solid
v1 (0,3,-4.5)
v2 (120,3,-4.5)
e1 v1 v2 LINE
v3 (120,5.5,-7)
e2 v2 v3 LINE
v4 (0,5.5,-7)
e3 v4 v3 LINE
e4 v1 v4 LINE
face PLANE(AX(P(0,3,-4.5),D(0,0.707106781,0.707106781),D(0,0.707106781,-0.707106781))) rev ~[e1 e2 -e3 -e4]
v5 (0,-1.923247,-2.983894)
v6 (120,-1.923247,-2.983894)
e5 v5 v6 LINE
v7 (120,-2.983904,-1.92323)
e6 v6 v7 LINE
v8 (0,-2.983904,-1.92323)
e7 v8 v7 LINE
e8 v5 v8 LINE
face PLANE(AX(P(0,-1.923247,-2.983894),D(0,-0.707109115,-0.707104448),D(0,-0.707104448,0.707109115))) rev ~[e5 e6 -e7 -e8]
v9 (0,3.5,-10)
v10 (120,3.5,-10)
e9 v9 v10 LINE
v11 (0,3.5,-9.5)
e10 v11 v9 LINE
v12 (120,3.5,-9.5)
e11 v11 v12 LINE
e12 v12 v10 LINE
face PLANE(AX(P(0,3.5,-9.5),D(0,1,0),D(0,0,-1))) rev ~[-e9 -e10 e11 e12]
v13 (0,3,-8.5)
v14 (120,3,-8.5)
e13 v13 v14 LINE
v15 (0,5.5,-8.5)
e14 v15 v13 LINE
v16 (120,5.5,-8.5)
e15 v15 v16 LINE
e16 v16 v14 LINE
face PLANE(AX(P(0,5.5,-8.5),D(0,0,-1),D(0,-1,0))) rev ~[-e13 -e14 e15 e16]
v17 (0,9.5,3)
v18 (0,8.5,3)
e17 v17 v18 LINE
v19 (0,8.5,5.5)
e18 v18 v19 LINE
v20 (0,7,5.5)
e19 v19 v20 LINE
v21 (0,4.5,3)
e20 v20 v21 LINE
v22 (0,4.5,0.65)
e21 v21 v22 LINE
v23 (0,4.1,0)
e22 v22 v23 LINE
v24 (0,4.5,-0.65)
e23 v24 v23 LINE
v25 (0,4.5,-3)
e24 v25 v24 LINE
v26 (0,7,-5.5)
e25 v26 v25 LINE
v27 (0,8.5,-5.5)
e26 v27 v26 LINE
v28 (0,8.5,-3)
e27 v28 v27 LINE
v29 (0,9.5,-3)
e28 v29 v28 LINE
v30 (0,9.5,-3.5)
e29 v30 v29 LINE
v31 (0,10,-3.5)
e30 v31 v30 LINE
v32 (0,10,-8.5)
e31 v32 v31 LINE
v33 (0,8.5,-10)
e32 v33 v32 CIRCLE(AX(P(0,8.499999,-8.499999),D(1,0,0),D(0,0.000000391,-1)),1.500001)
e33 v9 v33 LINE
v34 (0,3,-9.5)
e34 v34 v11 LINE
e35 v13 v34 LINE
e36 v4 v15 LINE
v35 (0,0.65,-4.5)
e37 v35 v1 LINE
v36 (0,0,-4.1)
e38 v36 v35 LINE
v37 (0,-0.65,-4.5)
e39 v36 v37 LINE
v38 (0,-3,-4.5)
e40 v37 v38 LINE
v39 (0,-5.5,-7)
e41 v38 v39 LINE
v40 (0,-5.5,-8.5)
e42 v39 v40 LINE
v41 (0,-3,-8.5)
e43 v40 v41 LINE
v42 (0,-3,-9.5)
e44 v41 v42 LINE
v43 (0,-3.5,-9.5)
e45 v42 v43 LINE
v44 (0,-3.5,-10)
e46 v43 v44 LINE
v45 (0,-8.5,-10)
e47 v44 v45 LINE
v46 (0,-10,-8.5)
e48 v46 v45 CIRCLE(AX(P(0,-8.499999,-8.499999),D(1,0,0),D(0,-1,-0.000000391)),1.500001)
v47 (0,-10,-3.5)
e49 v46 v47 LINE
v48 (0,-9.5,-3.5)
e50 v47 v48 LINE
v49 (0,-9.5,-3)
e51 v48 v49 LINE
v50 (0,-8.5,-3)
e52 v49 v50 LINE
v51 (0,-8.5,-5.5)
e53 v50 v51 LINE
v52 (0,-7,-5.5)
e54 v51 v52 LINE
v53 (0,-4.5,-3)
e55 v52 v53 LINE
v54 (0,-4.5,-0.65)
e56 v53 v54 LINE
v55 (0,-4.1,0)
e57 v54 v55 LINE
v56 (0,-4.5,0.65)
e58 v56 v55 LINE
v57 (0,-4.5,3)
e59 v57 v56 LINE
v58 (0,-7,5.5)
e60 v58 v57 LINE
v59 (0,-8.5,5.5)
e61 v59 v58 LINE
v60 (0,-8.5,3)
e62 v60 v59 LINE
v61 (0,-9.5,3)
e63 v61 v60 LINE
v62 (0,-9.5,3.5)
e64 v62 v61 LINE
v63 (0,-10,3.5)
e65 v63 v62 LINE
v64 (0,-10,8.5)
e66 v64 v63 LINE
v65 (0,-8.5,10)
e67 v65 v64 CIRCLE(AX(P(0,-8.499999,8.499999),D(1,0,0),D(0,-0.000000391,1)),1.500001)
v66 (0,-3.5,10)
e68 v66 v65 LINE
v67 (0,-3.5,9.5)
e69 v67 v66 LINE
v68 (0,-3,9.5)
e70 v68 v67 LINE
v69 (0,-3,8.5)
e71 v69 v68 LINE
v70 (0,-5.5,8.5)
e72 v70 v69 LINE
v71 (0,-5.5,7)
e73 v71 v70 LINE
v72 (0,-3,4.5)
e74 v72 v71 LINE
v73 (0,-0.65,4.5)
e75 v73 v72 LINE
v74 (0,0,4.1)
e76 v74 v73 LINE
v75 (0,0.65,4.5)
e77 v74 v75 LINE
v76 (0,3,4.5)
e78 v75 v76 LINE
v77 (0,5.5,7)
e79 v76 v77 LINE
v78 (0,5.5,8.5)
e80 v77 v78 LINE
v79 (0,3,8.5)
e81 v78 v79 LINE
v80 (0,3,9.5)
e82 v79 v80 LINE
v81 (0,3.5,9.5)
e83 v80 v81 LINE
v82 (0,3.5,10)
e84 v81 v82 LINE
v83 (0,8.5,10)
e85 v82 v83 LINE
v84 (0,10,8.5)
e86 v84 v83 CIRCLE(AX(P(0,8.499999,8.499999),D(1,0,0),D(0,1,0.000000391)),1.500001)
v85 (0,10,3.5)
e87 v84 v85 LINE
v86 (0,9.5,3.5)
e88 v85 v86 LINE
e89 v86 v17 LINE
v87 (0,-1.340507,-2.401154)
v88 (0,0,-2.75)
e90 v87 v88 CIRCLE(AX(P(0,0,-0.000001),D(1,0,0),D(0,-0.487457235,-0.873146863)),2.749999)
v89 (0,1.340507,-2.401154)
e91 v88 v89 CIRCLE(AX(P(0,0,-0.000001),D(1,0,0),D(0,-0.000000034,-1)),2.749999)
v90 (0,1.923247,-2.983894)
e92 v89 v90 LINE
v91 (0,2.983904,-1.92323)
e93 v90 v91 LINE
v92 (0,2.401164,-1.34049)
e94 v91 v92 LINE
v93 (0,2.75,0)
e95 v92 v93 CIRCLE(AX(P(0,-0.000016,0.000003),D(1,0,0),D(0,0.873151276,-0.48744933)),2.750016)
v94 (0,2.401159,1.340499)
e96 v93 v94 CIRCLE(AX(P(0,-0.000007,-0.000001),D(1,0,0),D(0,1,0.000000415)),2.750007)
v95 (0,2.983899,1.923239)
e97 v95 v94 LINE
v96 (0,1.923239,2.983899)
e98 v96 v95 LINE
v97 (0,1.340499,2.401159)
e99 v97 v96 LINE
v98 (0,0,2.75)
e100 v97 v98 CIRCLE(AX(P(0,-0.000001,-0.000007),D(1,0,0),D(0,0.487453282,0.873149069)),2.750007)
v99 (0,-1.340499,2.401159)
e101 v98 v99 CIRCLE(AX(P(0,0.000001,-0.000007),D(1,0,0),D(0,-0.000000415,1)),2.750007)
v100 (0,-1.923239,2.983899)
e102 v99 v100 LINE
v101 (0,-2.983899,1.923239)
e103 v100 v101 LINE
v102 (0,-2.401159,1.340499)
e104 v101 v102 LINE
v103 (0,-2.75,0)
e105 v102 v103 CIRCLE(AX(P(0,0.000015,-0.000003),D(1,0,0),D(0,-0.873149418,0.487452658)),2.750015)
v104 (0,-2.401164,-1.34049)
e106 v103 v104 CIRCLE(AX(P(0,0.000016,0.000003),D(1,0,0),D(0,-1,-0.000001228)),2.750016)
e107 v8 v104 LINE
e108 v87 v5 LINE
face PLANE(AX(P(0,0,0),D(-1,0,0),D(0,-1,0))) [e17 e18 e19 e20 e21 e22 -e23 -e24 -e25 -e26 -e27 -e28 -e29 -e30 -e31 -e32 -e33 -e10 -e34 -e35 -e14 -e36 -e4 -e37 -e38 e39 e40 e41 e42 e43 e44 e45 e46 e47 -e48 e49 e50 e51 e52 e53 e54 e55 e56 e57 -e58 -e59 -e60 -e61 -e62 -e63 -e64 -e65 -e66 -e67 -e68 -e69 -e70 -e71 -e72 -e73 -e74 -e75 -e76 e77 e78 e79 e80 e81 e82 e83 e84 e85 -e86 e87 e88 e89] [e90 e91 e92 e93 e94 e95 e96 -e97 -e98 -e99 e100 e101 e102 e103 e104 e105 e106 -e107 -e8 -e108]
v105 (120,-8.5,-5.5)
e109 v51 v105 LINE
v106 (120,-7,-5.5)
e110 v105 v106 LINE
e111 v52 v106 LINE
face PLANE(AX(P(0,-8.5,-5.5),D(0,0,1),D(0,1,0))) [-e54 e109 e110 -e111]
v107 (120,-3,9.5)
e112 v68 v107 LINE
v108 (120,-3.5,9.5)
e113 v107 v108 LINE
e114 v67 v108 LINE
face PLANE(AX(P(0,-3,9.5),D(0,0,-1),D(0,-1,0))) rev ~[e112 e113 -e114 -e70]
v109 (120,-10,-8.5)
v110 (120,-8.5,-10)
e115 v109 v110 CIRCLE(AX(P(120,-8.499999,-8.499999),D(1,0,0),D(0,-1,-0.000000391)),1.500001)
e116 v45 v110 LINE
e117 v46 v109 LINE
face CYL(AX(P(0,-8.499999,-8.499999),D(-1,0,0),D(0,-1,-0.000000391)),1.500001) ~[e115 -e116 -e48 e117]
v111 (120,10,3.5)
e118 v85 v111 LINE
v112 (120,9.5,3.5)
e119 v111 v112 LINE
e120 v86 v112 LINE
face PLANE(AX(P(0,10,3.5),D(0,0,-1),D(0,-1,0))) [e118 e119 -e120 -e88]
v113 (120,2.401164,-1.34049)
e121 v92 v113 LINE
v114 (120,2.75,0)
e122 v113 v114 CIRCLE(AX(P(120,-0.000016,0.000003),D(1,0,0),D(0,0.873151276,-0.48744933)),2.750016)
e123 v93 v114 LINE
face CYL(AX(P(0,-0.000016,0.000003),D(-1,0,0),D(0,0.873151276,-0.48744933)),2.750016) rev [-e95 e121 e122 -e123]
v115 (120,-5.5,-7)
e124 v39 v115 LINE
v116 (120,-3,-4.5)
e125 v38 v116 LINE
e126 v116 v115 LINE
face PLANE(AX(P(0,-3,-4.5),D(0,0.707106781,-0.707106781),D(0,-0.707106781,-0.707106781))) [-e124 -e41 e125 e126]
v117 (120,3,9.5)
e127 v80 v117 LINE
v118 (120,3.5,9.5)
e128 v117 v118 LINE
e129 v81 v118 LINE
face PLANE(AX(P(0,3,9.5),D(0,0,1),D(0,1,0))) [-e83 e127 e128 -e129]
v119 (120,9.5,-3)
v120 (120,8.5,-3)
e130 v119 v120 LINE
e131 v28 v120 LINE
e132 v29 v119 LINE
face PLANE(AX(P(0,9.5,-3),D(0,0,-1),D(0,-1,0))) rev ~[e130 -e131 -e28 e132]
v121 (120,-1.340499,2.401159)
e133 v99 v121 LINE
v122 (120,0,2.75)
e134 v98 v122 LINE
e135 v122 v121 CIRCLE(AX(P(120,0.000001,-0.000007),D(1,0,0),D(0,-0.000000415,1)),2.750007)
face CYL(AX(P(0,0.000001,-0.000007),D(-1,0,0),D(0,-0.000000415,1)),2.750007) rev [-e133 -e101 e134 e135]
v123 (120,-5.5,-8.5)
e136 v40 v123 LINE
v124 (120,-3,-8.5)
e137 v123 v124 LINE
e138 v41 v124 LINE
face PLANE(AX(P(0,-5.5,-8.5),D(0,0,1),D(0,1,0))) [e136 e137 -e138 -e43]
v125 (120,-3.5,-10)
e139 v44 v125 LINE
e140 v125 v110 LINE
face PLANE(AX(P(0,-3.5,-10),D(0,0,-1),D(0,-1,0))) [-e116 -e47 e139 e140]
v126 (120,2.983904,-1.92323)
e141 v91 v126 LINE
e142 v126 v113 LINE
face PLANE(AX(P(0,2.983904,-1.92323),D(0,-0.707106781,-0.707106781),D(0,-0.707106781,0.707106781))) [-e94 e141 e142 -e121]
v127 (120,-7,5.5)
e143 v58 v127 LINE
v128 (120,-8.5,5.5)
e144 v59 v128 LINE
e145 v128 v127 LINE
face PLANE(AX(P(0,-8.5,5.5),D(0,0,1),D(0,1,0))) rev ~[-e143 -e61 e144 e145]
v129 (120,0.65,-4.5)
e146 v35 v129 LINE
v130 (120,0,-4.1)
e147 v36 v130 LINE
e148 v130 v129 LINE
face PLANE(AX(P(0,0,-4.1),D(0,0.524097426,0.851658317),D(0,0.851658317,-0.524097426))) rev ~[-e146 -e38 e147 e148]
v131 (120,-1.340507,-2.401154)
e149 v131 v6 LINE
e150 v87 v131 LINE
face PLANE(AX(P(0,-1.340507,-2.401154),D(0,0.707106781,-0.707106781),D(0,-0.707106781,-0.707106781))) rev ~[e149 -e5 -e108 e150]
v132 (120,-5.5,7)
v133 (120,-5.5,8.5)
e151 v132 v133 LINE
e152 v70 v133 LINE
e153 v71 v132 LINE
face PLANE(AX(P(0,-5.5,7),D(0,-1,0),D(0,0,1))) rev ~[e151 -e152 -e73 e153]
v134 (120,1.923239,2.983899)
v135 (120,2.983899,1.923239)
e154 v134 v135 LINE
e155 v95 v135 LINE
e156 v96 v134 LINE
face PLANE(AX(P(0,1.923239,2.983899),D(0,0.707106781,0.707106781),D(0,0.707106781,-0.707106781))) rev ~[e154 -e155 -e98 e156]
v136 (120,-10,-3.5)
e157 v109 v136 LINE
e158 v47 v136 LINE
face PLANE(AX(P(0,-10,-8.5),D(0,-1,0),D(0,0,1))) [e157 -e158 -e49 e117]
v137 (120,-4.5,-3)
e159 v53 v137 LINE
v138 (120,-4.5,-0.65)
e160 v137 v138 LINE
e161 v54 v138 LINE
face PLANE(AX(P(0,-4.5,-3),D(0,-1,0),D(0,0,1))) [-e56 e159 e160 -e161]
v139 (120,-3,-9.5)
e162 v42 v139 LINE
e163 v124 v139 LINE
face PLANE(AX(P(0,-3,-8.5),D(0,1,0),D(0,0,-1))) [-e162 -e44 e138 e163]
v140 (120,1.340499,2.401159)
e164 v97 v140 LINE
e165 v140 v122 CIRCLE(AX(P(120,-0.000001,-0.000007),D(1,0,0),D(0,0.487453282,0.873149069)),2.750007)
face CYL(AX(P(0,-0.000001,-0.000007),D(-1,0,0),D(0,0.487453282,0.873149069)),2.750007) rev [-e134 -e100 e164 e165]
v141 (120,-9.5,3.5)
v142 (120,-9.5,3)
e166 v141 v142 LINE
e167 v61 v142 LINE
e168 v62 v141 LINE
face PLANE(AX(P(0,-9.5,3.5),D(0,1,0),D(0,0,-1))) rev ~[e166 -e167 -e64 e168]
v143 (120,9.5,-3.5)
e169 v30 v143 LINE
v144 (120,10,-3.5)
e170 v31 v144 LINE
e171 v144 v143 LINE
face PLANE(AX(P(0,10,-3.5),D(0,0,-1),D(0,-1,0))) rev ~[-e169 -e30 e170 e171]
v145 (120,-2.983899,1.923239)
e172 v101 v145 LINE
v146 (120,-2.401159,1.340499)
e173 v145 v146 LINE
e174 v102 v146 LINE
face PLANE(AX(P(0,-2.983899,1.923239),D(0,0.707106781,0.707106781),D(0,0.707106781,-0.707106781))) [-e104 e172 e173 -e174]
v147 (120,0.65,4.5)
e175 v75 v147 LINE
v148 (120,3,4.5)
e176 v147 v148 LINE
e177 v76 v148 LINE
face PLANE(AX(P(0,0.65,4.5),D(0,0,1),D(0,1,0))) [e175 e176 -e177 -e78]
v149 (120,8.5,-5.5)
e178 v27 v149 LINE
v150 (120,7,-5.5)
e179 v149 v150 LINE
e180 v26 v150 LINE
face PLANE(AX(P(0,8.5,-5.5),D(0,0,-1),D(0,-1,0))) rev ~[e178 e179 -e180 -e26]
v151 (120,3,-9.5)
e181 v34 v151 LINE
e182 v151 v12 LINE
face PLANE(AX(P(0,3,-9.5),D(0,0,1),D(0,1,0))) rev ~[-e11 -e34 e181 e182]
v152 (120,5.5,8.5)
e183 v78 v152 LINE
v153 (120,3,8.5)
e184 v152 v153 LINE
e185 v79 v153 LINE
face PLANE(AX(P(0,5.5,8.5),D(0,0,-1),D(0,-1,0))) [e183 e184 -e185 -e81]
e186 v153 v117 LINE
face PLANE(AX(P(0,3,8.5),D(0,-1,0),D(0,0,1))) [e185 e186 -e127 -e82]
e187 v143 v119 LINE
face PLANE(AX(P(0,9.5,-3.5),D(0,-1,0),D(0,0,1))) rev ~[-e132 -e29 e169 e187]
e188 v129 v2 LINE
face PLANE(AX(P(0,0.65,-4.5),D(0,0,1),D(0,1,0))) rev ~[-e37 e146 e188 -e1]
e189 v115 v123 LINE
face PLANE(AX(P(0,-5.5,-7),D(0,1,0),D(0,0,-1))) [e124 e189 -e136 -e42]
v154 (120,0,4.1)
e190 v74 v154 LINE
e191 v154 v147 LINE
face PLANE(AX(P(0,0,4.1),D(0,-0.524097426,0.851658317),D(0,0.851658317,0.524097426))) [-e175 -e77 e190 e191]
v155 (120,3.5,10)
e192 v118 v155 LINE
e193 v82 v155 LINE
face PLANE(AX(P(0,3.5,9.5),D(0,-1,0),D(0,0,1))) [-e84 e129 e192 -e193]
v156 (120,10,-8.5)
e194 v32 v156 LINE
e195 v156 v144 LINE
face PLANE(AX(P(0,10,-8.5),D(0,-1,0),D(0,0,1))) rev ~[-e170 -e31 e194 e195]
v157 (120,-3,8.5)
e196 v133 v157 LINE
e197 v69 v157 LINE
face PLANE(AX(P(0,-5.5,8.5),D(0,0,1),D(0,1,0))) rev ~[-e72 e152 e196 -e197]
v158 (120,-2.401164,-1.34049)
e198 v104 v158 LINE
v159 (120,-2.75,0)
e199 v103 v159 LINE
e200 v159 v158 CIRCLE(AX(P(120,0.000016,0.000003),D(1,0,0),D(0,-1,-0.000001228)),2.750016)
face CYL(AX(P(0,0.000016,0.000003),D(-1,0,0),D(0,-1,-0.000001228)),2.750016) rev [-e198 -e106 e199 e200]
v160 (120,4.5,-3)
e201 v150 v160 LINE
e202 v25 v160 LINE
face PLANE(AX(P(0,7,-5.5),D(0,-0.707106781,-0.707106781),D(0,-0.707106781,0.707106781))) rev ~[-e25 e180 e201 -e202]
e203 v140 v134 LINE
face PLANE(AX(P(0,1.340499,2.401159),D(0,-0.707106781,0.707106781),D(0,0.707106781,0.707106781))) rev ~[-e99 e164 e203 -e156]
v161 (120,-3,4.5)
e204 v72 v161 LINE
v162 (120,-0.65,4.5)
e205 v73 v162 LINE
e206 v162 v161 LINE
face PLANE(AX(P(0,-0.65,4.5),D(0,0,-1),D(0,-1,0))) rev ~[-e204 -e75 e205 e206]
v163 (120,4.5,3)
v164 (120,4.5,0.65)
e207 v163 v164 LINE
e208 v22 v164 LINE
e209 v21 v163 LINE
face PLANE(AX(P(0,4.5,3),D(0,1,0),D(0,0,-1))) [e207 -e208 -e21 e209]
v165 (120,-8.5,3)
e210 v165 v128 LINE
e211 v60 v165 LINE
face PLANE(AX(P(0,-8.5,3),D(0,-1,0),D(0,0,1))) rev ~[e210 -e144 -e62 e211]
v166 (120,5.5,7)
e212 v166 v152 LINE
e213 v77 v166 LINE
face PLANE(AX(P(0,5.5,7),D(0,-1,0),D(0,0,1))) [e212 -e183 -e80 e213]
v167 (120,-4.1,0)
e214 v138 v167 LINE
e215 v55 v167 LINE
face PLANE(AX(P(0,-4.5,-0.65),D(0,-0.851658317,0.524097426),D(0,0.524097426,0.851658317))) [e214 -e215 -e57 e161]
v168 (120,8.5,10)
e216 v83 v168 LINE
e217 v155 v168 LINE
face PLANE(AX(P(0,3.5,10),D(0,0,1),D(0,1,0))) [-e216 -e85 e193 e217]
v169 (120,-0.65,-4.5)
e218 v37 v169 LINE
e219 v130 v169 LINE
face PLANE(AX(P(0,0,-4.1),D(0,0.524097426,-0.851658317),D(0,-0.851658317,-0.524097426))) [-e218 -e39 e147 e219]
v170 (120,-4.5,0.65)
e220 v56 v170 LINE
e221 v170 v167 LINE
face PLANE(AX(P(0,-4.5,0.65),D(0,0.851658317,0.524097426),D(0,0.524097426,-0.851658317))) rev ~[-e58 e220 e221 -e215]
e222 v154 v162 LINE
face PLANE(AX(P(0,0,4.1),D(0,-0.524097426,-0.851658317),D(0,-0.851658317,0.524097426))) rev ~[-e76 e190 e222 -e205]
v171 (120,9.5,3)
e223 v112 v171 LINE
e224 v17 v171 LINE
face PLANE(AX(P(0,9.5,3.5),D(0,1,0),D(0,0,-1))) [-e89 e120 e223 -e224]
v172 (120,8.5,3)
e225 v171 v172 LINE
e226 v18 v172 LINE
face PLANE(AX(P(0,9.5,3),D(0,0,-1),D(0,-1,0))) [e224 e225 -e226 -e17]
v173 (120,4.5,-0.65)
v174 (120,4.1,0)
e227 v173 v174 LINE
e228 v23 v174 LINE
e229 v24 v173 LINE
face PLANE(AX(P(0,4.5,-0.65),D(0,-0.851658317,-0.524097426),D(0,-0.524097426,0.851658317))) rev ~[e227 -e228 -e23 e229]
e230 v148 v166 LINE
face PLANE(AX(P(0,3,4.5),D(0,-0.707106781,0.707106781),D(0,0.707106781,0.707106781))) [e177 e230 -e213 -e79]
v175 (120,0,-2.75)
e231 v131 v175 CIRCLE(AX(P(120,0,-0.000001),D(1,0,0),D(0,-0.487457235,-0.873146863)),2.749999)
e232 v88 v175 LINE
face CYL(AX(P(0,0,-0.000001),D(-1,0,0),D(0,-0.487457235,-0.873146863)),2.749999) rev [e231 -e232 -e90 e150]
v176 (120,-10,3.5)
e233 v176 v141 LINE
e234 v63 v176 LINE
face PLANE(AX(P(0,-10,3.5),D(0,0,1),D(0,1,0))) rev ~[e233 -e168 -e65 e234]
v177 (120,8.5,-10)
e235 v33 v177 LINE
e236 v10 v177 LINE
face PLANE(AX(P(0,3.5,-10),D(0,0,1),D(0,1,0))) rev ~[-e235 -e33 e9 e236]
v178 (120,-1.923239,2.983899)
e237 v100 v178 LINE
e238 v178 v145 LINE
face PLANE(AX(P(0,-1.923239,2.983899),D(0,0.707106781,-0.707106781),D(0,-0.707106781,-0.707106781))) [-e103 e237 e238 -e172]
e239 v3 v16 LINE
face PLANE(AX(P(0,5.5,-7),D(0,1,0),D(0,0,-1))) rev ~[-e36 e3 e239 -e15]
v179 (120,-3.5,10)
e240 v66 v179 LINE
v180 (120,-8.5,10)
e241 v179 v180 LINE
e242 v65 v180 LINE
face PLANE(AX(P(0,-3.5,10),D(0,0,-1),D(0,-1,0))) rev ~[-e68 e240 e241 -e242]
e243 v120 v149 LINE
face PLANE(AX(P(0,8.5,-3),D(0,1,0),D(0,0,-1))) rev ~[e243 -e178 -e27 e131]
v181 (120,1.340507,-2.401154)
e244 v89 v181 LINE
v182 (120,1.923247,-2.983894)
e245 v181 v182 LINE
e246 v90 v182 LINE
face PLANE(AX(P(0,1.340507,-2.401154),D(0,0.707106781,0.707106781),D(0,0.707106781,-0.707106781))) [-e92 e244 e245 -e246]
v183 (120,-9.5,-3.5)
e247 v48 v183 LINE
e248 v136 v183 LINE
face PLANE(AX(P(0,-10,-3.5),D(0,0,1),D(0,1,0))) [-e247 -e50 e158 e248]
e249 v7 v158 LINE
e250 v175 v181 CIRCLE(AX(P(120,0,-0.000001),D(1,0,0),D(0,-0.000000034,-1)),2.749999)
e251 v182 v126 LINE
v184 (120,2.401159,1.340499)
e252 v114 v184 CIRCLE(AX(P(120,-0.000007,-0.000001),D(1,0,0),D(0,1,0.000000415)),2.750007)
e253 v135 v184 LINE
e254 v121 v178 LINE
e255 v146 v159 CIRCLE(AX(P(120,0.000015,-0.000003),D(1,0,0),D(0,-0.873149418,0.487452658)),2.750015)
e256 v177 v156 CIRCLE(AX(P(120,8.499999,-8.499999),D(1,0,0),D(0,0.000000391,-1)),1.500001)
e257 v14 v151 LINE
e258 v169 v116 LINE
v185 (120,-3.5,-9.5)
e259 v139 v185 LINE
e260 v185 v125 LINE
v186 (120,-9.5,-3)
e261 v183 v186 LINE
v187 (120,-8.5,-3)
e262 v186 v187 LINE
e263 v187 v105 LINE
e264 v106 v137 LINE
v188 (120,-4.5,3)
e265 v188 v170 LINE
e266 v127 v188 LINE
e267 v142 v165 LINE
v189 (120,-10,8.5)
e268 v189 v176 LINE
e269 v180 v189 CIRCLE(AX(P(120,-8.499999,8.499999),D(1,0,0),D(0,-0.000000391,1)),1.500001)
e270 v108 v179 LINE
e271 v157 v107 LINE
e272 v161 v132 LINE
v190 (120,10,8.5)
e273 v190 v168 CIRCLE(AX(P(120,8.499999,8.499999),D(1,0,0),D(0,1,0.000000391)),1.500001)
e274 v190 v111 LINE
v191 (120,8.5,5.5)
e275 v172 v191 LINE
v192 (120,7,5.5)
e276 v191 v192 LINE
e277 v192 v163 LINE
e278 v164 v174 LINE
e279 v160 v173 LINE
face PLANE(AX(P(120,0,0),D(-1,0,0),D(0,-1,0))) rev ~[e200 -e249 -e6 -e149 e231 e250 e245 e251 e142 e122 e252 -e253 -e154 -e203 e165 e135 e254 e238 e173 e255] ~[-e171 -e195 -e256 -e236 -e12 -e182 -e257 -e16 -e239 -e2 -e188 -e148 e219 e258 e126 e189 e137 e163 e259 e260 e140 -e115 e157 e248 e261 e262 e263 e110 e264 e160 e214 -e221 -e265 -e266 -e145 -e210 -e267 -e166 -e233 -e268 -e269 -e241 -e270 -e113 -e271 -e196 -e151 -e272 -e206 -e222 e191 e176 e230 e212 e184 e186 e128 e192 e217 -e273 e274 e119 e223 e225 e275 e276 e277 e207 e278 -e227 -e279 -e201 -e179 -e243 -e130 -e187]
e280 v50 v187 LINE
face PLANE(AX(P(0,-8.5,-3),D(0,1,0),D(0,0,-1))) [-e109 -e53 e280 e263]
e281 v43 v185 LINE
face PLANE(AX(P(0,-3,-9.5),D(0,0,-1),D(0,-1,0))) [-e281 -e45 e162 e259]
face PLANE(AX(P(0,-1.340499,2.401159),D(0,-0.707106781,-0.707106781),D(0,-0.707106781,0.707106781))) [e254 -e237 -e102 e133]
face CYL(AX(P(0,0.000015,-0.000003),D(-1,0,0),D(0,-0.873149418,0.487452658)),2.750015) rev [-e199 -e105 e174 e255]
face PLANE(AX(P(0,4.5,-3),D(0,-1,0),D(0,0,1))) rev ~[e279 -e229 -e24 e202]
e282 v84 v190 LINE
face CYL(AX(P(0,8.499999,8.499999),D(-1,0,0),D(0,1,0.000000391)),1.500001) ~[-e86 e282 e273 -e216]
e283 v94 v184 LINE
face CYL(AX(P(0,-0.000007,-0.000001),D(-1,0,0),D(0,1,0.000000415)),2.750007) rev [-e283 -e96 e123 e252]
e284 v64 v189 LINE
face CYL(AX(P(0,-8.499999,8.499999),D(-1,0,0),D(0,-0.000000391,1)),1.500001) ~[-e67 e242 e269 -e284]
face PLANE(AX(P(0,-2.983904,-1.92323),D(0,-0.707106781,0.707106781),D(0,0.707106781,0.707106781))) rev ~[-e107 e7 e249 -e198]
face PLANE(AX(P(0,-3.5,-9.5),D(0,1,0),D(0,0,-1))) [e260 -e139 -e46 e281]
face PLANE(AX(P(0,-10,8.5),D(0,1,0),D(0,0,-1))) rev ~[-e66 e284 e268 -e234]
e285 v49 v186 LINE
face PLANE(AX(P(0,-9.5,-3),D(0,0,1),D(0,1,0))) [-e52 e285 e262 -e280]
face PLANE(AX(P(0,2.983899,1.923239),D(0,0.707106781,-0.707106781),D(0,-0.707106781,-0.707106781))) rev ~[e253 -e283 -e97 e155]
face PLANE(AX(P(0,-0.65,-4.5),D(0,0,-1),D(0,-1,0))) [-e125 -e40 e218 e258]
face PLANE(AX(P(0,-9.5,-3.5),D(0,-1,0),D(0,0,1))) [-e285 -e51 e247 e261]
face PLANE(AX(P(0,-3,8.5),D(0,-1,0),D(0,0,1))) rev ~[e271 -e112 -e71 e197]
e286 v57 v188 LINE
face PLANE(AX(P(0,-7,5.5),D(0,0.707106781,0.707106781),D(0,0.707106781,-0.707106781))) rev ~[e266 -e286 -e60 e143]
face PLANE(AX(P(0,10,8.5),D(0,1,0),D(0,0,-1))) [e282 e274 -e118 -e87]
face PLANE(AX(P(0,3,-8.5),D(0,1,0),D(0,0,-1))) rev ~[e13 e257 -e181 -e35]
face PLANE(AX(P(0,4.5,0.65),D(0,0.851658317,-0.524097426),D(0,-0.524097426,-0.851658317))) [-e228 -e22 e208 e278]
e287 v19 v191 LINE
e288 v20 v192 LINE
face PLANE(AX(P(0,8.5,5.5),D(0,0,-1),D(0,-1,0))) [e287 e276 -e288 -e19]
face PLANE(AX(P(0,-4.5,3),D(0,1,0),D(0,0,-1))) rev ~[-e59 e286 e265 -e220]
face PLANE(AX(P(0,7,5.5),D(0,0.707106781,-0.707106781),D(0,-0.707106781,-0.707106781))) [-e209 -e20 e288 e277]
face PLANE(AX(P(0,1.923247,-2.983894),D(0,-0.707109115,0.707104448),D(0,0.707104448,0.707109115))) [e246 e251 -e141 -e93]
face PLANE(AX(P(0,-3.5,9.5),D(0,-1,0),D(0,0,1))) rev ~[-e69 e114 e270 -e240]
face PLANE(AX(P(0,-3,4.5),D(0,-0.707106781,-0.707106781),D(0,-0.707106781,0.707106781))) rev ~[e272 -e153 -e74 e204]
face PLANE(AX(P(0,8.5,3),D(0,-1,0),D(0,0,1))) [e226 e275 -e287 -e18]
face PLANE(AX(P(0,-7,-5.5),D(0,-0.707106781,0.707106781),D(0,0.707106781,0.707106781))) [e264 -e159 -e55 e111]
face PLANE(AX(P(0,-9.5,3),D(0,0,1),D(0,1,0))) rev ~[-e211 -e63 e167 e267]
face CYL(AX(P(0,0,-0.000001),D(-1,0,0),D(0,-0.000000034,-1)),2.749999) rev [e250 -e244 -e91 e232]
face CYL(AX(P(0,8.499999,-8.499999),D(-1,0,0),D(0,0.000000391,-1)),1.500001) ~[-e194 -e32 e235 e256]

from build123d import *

# Parameters (mm, degrees)
PAD_DEPTH = 120


with BuildPart() as part:
    # Sketch → Pad (new body)
    with BuildSketch(Plane.YZ):
        with BuildLine():
            Line((0, 4.1), (0.65, 4.5))
            Line((0.65, 4.5), (3, 4.5))
            Line((3, 4.5), (5.5, 7))
            Line((5.5, 7), (5.5, 8.5))
            Line((5.5, 8.5), (3, 8.5))
            Line((3, 8.5), (3, 9.5))
            Line((3, 9.5), (3.5, 9.5))
            Line((3.5, 9.5), (3.5, 10))
            Line((3.5, 10), (8.5, 10))
            ThreePointArc((10, 8.5), (9.56066, 9.56066), (8.5, 10))
            Line((10, 8.5), (10, 3.5))
            Line((10, 3.5), (9.5, 3.5))
            Line((9.5, 3.5), (9.5, 3))
            Line((9.5, 3), (8.5, 3))
            Line((8.5, 3), (8.5, 5.5))
            Line((8.5, 5.5), (7, 5.5))
            Line((7, 5.5), (4.5, 3))
            Line((4.5, 3), (4.5, 0.65))
            Line((4.5, 0.65), (4.1, 0))
            Line((4.5, -0.65), (4.1, 0))
            Line((4.5, -3), (4.5, -0.65))
            Line((7, -5.5), (4.5, -3))
            Line((8.5, -5.5), (7, -5.5))
            Line((8.5, -3), (8.5, -5.5))
            Line((9.5, -3), (8.5, -3))
            Line((9.5, -3.5), (9.5, -3))
            Line((10, -3.5), (9.5, -3.5))
            Line((10, -8.5), (10, -3.5))
            ThreePointArc((8.5, -10), (9.56066, -9.56066), (10, -8.5))
            Line((3.5, -10), (8.5, -10))
            Line((3.5, -9.5), (3.5, -10))
            Line((3, -9.5), (3.5, -9.5))
            Line((3, -8.5), (3, -9.5))
            Line((5.5, -8.5), (3, -8.5))
            Line((5.5, -7), (5.5, -8.5))
            Line((3, -4.5), (5.5, -7))
            Line((0.65, -4.5), (3, -4.5))
            Line((0, -4.1), (0.65, -4.5))
            Line((0, -4.1), (-0.65, -4.5))
            Line((-0.65, -4.5), (-3, -4.5))
            Line((-3, -4.5), (-5.5, -7))
            Line((-5.5, -7), (-5.5, -8.5))
            Line((-5.5, -8.5), (-3, -8.5))
            Line((-3, -8.5), (-3, -9.5))
            Line((-3, -9.5), (-3.5, -9.5))
            Line((-3.5, -9.5), (-3.5, -10))
            Line((-3.5, -10), (-8.5, -10))
            ThreePointArc((-10, -8.5), (-9.56066, -9.56066), (-8.5, -10))
            Line((-10, -8.5), (-10, -3.5))
            Line((-10, -3.5), (-9.5, -3.5))
            Line((-9.5, -3.5), (-9.5, -3))
            Line((-9.5, -3), (-8.5, -3))
            Line((-8.5, -3), (-8.5, -5.5))
            Line((-8.5, -5.5), (-7, -5.5))
            Line((-7, -5.5), (-4.5, -3))
            Line((-4.5, -3), (-4.5, -0.65))
            Line((-4.5, -0.65), (-4.1, 0))
            Line((-4.5, 0.65), (-4.1, 0))
            Line((-4.5, 3), (-4.5, 0.65))
            Line((-7, 5.5), (-4.5, 3))
            Line((-8.5, 5.5), (-7, 5.5))
            Line((-8.5, 3), (-8.5, 5.5))
            Line((-9.5, 3), (-8.5, 3))
            Line((-9.5, 3.5), (-9.5, 3))
            Line((-10, 3.5), (-9.5, 3.5))
            Line((-10, 8.5), (-10, 3.5))
            ThreePointArc((-8.5, 10), (-9.56066, 9.56066), (-10, 8.5))
            Line((-3.5, 10), (-8.5, 10))
            Line((-3.5, 9.5), (-3.5, 10))
            Line((-3, 9.5), (-3.5, 9.5))
            Line((-3, 8.5), (-3, 9.5))
            Line((-5.5, 8.5), (-3, 8.5))
            Line((-5.5, 7), (-5.5, 8.5))
            Line((-3, 4.5), (-5.5, 7))
            Line((-0.65, 4.5), (-3, 4.5))
            Line((0, 4.1), (-0.65, 4.5))
        make_face()
        with BuildLine():
            Line((1.340499, 2.401159), (1.923239, 2.983899))
            Line((1.923239, 2.983899), (2.983899, 1.923239))
            Line((2.983899, 1.923239), (2.401159, 1.340499))
            ThreePointArc((2.75, 0), (2.661361, 0.692573), (2.401159, 1.340499))
            ThreePointArc((2.401164, -1.34049), (2.661362, -0.692568), (2.75, 0))
            Line((2.983904, -1.92323), (2.401164, -1.34049))
            Line((1.923247, -2.983894), (2.983904, -1.92323))
            Line((1.340507, -2.401154), (1.923247, -2.983894))
            ThreePointArc((0, -2.75), (0.692577, -2.66136), (1.340507, -2.401154))
            ThreePointArc((-1.340507, -2.401154), (-0.692577, -2.66136), (0, -2.75))
            Line((-1.340507, -2.401154), (-1.923247, -2.983894))
            Line((-1.923247, -2.983894), (-2.983904, -1.92323))
            Line((-2.983904, -1.92323), (-2.401164, -1.34049))
            ThreePointArc((-2.75, 0), (-2.661362, -0.692568), (-2.401164, -1.34049))
            ThreePointArc((-2.401159, 1.340499), (-2.661361, 0.692572), (-2.75, 0))
            Line((-2.983899, 1.923239), (-2.401159, 1.340499))
            Line((-1.923239, 2.983899), (-2.983899, 1.923239))
            Line((-1.340499, 2.401159), (-1.923239, 2.983899))
            ThreePointArc((0, 2.75), (-0.692573, 2.661361), (-1.340499, 2.401159))
            ThreePointArc((1.340499, 2.401159), (0.692573, 2.661361), (0, 2.75))
        make_face(mode=Mode.SUBTRACT)
    extrude(amount=PAD_DEPTH)


solid = part.part
